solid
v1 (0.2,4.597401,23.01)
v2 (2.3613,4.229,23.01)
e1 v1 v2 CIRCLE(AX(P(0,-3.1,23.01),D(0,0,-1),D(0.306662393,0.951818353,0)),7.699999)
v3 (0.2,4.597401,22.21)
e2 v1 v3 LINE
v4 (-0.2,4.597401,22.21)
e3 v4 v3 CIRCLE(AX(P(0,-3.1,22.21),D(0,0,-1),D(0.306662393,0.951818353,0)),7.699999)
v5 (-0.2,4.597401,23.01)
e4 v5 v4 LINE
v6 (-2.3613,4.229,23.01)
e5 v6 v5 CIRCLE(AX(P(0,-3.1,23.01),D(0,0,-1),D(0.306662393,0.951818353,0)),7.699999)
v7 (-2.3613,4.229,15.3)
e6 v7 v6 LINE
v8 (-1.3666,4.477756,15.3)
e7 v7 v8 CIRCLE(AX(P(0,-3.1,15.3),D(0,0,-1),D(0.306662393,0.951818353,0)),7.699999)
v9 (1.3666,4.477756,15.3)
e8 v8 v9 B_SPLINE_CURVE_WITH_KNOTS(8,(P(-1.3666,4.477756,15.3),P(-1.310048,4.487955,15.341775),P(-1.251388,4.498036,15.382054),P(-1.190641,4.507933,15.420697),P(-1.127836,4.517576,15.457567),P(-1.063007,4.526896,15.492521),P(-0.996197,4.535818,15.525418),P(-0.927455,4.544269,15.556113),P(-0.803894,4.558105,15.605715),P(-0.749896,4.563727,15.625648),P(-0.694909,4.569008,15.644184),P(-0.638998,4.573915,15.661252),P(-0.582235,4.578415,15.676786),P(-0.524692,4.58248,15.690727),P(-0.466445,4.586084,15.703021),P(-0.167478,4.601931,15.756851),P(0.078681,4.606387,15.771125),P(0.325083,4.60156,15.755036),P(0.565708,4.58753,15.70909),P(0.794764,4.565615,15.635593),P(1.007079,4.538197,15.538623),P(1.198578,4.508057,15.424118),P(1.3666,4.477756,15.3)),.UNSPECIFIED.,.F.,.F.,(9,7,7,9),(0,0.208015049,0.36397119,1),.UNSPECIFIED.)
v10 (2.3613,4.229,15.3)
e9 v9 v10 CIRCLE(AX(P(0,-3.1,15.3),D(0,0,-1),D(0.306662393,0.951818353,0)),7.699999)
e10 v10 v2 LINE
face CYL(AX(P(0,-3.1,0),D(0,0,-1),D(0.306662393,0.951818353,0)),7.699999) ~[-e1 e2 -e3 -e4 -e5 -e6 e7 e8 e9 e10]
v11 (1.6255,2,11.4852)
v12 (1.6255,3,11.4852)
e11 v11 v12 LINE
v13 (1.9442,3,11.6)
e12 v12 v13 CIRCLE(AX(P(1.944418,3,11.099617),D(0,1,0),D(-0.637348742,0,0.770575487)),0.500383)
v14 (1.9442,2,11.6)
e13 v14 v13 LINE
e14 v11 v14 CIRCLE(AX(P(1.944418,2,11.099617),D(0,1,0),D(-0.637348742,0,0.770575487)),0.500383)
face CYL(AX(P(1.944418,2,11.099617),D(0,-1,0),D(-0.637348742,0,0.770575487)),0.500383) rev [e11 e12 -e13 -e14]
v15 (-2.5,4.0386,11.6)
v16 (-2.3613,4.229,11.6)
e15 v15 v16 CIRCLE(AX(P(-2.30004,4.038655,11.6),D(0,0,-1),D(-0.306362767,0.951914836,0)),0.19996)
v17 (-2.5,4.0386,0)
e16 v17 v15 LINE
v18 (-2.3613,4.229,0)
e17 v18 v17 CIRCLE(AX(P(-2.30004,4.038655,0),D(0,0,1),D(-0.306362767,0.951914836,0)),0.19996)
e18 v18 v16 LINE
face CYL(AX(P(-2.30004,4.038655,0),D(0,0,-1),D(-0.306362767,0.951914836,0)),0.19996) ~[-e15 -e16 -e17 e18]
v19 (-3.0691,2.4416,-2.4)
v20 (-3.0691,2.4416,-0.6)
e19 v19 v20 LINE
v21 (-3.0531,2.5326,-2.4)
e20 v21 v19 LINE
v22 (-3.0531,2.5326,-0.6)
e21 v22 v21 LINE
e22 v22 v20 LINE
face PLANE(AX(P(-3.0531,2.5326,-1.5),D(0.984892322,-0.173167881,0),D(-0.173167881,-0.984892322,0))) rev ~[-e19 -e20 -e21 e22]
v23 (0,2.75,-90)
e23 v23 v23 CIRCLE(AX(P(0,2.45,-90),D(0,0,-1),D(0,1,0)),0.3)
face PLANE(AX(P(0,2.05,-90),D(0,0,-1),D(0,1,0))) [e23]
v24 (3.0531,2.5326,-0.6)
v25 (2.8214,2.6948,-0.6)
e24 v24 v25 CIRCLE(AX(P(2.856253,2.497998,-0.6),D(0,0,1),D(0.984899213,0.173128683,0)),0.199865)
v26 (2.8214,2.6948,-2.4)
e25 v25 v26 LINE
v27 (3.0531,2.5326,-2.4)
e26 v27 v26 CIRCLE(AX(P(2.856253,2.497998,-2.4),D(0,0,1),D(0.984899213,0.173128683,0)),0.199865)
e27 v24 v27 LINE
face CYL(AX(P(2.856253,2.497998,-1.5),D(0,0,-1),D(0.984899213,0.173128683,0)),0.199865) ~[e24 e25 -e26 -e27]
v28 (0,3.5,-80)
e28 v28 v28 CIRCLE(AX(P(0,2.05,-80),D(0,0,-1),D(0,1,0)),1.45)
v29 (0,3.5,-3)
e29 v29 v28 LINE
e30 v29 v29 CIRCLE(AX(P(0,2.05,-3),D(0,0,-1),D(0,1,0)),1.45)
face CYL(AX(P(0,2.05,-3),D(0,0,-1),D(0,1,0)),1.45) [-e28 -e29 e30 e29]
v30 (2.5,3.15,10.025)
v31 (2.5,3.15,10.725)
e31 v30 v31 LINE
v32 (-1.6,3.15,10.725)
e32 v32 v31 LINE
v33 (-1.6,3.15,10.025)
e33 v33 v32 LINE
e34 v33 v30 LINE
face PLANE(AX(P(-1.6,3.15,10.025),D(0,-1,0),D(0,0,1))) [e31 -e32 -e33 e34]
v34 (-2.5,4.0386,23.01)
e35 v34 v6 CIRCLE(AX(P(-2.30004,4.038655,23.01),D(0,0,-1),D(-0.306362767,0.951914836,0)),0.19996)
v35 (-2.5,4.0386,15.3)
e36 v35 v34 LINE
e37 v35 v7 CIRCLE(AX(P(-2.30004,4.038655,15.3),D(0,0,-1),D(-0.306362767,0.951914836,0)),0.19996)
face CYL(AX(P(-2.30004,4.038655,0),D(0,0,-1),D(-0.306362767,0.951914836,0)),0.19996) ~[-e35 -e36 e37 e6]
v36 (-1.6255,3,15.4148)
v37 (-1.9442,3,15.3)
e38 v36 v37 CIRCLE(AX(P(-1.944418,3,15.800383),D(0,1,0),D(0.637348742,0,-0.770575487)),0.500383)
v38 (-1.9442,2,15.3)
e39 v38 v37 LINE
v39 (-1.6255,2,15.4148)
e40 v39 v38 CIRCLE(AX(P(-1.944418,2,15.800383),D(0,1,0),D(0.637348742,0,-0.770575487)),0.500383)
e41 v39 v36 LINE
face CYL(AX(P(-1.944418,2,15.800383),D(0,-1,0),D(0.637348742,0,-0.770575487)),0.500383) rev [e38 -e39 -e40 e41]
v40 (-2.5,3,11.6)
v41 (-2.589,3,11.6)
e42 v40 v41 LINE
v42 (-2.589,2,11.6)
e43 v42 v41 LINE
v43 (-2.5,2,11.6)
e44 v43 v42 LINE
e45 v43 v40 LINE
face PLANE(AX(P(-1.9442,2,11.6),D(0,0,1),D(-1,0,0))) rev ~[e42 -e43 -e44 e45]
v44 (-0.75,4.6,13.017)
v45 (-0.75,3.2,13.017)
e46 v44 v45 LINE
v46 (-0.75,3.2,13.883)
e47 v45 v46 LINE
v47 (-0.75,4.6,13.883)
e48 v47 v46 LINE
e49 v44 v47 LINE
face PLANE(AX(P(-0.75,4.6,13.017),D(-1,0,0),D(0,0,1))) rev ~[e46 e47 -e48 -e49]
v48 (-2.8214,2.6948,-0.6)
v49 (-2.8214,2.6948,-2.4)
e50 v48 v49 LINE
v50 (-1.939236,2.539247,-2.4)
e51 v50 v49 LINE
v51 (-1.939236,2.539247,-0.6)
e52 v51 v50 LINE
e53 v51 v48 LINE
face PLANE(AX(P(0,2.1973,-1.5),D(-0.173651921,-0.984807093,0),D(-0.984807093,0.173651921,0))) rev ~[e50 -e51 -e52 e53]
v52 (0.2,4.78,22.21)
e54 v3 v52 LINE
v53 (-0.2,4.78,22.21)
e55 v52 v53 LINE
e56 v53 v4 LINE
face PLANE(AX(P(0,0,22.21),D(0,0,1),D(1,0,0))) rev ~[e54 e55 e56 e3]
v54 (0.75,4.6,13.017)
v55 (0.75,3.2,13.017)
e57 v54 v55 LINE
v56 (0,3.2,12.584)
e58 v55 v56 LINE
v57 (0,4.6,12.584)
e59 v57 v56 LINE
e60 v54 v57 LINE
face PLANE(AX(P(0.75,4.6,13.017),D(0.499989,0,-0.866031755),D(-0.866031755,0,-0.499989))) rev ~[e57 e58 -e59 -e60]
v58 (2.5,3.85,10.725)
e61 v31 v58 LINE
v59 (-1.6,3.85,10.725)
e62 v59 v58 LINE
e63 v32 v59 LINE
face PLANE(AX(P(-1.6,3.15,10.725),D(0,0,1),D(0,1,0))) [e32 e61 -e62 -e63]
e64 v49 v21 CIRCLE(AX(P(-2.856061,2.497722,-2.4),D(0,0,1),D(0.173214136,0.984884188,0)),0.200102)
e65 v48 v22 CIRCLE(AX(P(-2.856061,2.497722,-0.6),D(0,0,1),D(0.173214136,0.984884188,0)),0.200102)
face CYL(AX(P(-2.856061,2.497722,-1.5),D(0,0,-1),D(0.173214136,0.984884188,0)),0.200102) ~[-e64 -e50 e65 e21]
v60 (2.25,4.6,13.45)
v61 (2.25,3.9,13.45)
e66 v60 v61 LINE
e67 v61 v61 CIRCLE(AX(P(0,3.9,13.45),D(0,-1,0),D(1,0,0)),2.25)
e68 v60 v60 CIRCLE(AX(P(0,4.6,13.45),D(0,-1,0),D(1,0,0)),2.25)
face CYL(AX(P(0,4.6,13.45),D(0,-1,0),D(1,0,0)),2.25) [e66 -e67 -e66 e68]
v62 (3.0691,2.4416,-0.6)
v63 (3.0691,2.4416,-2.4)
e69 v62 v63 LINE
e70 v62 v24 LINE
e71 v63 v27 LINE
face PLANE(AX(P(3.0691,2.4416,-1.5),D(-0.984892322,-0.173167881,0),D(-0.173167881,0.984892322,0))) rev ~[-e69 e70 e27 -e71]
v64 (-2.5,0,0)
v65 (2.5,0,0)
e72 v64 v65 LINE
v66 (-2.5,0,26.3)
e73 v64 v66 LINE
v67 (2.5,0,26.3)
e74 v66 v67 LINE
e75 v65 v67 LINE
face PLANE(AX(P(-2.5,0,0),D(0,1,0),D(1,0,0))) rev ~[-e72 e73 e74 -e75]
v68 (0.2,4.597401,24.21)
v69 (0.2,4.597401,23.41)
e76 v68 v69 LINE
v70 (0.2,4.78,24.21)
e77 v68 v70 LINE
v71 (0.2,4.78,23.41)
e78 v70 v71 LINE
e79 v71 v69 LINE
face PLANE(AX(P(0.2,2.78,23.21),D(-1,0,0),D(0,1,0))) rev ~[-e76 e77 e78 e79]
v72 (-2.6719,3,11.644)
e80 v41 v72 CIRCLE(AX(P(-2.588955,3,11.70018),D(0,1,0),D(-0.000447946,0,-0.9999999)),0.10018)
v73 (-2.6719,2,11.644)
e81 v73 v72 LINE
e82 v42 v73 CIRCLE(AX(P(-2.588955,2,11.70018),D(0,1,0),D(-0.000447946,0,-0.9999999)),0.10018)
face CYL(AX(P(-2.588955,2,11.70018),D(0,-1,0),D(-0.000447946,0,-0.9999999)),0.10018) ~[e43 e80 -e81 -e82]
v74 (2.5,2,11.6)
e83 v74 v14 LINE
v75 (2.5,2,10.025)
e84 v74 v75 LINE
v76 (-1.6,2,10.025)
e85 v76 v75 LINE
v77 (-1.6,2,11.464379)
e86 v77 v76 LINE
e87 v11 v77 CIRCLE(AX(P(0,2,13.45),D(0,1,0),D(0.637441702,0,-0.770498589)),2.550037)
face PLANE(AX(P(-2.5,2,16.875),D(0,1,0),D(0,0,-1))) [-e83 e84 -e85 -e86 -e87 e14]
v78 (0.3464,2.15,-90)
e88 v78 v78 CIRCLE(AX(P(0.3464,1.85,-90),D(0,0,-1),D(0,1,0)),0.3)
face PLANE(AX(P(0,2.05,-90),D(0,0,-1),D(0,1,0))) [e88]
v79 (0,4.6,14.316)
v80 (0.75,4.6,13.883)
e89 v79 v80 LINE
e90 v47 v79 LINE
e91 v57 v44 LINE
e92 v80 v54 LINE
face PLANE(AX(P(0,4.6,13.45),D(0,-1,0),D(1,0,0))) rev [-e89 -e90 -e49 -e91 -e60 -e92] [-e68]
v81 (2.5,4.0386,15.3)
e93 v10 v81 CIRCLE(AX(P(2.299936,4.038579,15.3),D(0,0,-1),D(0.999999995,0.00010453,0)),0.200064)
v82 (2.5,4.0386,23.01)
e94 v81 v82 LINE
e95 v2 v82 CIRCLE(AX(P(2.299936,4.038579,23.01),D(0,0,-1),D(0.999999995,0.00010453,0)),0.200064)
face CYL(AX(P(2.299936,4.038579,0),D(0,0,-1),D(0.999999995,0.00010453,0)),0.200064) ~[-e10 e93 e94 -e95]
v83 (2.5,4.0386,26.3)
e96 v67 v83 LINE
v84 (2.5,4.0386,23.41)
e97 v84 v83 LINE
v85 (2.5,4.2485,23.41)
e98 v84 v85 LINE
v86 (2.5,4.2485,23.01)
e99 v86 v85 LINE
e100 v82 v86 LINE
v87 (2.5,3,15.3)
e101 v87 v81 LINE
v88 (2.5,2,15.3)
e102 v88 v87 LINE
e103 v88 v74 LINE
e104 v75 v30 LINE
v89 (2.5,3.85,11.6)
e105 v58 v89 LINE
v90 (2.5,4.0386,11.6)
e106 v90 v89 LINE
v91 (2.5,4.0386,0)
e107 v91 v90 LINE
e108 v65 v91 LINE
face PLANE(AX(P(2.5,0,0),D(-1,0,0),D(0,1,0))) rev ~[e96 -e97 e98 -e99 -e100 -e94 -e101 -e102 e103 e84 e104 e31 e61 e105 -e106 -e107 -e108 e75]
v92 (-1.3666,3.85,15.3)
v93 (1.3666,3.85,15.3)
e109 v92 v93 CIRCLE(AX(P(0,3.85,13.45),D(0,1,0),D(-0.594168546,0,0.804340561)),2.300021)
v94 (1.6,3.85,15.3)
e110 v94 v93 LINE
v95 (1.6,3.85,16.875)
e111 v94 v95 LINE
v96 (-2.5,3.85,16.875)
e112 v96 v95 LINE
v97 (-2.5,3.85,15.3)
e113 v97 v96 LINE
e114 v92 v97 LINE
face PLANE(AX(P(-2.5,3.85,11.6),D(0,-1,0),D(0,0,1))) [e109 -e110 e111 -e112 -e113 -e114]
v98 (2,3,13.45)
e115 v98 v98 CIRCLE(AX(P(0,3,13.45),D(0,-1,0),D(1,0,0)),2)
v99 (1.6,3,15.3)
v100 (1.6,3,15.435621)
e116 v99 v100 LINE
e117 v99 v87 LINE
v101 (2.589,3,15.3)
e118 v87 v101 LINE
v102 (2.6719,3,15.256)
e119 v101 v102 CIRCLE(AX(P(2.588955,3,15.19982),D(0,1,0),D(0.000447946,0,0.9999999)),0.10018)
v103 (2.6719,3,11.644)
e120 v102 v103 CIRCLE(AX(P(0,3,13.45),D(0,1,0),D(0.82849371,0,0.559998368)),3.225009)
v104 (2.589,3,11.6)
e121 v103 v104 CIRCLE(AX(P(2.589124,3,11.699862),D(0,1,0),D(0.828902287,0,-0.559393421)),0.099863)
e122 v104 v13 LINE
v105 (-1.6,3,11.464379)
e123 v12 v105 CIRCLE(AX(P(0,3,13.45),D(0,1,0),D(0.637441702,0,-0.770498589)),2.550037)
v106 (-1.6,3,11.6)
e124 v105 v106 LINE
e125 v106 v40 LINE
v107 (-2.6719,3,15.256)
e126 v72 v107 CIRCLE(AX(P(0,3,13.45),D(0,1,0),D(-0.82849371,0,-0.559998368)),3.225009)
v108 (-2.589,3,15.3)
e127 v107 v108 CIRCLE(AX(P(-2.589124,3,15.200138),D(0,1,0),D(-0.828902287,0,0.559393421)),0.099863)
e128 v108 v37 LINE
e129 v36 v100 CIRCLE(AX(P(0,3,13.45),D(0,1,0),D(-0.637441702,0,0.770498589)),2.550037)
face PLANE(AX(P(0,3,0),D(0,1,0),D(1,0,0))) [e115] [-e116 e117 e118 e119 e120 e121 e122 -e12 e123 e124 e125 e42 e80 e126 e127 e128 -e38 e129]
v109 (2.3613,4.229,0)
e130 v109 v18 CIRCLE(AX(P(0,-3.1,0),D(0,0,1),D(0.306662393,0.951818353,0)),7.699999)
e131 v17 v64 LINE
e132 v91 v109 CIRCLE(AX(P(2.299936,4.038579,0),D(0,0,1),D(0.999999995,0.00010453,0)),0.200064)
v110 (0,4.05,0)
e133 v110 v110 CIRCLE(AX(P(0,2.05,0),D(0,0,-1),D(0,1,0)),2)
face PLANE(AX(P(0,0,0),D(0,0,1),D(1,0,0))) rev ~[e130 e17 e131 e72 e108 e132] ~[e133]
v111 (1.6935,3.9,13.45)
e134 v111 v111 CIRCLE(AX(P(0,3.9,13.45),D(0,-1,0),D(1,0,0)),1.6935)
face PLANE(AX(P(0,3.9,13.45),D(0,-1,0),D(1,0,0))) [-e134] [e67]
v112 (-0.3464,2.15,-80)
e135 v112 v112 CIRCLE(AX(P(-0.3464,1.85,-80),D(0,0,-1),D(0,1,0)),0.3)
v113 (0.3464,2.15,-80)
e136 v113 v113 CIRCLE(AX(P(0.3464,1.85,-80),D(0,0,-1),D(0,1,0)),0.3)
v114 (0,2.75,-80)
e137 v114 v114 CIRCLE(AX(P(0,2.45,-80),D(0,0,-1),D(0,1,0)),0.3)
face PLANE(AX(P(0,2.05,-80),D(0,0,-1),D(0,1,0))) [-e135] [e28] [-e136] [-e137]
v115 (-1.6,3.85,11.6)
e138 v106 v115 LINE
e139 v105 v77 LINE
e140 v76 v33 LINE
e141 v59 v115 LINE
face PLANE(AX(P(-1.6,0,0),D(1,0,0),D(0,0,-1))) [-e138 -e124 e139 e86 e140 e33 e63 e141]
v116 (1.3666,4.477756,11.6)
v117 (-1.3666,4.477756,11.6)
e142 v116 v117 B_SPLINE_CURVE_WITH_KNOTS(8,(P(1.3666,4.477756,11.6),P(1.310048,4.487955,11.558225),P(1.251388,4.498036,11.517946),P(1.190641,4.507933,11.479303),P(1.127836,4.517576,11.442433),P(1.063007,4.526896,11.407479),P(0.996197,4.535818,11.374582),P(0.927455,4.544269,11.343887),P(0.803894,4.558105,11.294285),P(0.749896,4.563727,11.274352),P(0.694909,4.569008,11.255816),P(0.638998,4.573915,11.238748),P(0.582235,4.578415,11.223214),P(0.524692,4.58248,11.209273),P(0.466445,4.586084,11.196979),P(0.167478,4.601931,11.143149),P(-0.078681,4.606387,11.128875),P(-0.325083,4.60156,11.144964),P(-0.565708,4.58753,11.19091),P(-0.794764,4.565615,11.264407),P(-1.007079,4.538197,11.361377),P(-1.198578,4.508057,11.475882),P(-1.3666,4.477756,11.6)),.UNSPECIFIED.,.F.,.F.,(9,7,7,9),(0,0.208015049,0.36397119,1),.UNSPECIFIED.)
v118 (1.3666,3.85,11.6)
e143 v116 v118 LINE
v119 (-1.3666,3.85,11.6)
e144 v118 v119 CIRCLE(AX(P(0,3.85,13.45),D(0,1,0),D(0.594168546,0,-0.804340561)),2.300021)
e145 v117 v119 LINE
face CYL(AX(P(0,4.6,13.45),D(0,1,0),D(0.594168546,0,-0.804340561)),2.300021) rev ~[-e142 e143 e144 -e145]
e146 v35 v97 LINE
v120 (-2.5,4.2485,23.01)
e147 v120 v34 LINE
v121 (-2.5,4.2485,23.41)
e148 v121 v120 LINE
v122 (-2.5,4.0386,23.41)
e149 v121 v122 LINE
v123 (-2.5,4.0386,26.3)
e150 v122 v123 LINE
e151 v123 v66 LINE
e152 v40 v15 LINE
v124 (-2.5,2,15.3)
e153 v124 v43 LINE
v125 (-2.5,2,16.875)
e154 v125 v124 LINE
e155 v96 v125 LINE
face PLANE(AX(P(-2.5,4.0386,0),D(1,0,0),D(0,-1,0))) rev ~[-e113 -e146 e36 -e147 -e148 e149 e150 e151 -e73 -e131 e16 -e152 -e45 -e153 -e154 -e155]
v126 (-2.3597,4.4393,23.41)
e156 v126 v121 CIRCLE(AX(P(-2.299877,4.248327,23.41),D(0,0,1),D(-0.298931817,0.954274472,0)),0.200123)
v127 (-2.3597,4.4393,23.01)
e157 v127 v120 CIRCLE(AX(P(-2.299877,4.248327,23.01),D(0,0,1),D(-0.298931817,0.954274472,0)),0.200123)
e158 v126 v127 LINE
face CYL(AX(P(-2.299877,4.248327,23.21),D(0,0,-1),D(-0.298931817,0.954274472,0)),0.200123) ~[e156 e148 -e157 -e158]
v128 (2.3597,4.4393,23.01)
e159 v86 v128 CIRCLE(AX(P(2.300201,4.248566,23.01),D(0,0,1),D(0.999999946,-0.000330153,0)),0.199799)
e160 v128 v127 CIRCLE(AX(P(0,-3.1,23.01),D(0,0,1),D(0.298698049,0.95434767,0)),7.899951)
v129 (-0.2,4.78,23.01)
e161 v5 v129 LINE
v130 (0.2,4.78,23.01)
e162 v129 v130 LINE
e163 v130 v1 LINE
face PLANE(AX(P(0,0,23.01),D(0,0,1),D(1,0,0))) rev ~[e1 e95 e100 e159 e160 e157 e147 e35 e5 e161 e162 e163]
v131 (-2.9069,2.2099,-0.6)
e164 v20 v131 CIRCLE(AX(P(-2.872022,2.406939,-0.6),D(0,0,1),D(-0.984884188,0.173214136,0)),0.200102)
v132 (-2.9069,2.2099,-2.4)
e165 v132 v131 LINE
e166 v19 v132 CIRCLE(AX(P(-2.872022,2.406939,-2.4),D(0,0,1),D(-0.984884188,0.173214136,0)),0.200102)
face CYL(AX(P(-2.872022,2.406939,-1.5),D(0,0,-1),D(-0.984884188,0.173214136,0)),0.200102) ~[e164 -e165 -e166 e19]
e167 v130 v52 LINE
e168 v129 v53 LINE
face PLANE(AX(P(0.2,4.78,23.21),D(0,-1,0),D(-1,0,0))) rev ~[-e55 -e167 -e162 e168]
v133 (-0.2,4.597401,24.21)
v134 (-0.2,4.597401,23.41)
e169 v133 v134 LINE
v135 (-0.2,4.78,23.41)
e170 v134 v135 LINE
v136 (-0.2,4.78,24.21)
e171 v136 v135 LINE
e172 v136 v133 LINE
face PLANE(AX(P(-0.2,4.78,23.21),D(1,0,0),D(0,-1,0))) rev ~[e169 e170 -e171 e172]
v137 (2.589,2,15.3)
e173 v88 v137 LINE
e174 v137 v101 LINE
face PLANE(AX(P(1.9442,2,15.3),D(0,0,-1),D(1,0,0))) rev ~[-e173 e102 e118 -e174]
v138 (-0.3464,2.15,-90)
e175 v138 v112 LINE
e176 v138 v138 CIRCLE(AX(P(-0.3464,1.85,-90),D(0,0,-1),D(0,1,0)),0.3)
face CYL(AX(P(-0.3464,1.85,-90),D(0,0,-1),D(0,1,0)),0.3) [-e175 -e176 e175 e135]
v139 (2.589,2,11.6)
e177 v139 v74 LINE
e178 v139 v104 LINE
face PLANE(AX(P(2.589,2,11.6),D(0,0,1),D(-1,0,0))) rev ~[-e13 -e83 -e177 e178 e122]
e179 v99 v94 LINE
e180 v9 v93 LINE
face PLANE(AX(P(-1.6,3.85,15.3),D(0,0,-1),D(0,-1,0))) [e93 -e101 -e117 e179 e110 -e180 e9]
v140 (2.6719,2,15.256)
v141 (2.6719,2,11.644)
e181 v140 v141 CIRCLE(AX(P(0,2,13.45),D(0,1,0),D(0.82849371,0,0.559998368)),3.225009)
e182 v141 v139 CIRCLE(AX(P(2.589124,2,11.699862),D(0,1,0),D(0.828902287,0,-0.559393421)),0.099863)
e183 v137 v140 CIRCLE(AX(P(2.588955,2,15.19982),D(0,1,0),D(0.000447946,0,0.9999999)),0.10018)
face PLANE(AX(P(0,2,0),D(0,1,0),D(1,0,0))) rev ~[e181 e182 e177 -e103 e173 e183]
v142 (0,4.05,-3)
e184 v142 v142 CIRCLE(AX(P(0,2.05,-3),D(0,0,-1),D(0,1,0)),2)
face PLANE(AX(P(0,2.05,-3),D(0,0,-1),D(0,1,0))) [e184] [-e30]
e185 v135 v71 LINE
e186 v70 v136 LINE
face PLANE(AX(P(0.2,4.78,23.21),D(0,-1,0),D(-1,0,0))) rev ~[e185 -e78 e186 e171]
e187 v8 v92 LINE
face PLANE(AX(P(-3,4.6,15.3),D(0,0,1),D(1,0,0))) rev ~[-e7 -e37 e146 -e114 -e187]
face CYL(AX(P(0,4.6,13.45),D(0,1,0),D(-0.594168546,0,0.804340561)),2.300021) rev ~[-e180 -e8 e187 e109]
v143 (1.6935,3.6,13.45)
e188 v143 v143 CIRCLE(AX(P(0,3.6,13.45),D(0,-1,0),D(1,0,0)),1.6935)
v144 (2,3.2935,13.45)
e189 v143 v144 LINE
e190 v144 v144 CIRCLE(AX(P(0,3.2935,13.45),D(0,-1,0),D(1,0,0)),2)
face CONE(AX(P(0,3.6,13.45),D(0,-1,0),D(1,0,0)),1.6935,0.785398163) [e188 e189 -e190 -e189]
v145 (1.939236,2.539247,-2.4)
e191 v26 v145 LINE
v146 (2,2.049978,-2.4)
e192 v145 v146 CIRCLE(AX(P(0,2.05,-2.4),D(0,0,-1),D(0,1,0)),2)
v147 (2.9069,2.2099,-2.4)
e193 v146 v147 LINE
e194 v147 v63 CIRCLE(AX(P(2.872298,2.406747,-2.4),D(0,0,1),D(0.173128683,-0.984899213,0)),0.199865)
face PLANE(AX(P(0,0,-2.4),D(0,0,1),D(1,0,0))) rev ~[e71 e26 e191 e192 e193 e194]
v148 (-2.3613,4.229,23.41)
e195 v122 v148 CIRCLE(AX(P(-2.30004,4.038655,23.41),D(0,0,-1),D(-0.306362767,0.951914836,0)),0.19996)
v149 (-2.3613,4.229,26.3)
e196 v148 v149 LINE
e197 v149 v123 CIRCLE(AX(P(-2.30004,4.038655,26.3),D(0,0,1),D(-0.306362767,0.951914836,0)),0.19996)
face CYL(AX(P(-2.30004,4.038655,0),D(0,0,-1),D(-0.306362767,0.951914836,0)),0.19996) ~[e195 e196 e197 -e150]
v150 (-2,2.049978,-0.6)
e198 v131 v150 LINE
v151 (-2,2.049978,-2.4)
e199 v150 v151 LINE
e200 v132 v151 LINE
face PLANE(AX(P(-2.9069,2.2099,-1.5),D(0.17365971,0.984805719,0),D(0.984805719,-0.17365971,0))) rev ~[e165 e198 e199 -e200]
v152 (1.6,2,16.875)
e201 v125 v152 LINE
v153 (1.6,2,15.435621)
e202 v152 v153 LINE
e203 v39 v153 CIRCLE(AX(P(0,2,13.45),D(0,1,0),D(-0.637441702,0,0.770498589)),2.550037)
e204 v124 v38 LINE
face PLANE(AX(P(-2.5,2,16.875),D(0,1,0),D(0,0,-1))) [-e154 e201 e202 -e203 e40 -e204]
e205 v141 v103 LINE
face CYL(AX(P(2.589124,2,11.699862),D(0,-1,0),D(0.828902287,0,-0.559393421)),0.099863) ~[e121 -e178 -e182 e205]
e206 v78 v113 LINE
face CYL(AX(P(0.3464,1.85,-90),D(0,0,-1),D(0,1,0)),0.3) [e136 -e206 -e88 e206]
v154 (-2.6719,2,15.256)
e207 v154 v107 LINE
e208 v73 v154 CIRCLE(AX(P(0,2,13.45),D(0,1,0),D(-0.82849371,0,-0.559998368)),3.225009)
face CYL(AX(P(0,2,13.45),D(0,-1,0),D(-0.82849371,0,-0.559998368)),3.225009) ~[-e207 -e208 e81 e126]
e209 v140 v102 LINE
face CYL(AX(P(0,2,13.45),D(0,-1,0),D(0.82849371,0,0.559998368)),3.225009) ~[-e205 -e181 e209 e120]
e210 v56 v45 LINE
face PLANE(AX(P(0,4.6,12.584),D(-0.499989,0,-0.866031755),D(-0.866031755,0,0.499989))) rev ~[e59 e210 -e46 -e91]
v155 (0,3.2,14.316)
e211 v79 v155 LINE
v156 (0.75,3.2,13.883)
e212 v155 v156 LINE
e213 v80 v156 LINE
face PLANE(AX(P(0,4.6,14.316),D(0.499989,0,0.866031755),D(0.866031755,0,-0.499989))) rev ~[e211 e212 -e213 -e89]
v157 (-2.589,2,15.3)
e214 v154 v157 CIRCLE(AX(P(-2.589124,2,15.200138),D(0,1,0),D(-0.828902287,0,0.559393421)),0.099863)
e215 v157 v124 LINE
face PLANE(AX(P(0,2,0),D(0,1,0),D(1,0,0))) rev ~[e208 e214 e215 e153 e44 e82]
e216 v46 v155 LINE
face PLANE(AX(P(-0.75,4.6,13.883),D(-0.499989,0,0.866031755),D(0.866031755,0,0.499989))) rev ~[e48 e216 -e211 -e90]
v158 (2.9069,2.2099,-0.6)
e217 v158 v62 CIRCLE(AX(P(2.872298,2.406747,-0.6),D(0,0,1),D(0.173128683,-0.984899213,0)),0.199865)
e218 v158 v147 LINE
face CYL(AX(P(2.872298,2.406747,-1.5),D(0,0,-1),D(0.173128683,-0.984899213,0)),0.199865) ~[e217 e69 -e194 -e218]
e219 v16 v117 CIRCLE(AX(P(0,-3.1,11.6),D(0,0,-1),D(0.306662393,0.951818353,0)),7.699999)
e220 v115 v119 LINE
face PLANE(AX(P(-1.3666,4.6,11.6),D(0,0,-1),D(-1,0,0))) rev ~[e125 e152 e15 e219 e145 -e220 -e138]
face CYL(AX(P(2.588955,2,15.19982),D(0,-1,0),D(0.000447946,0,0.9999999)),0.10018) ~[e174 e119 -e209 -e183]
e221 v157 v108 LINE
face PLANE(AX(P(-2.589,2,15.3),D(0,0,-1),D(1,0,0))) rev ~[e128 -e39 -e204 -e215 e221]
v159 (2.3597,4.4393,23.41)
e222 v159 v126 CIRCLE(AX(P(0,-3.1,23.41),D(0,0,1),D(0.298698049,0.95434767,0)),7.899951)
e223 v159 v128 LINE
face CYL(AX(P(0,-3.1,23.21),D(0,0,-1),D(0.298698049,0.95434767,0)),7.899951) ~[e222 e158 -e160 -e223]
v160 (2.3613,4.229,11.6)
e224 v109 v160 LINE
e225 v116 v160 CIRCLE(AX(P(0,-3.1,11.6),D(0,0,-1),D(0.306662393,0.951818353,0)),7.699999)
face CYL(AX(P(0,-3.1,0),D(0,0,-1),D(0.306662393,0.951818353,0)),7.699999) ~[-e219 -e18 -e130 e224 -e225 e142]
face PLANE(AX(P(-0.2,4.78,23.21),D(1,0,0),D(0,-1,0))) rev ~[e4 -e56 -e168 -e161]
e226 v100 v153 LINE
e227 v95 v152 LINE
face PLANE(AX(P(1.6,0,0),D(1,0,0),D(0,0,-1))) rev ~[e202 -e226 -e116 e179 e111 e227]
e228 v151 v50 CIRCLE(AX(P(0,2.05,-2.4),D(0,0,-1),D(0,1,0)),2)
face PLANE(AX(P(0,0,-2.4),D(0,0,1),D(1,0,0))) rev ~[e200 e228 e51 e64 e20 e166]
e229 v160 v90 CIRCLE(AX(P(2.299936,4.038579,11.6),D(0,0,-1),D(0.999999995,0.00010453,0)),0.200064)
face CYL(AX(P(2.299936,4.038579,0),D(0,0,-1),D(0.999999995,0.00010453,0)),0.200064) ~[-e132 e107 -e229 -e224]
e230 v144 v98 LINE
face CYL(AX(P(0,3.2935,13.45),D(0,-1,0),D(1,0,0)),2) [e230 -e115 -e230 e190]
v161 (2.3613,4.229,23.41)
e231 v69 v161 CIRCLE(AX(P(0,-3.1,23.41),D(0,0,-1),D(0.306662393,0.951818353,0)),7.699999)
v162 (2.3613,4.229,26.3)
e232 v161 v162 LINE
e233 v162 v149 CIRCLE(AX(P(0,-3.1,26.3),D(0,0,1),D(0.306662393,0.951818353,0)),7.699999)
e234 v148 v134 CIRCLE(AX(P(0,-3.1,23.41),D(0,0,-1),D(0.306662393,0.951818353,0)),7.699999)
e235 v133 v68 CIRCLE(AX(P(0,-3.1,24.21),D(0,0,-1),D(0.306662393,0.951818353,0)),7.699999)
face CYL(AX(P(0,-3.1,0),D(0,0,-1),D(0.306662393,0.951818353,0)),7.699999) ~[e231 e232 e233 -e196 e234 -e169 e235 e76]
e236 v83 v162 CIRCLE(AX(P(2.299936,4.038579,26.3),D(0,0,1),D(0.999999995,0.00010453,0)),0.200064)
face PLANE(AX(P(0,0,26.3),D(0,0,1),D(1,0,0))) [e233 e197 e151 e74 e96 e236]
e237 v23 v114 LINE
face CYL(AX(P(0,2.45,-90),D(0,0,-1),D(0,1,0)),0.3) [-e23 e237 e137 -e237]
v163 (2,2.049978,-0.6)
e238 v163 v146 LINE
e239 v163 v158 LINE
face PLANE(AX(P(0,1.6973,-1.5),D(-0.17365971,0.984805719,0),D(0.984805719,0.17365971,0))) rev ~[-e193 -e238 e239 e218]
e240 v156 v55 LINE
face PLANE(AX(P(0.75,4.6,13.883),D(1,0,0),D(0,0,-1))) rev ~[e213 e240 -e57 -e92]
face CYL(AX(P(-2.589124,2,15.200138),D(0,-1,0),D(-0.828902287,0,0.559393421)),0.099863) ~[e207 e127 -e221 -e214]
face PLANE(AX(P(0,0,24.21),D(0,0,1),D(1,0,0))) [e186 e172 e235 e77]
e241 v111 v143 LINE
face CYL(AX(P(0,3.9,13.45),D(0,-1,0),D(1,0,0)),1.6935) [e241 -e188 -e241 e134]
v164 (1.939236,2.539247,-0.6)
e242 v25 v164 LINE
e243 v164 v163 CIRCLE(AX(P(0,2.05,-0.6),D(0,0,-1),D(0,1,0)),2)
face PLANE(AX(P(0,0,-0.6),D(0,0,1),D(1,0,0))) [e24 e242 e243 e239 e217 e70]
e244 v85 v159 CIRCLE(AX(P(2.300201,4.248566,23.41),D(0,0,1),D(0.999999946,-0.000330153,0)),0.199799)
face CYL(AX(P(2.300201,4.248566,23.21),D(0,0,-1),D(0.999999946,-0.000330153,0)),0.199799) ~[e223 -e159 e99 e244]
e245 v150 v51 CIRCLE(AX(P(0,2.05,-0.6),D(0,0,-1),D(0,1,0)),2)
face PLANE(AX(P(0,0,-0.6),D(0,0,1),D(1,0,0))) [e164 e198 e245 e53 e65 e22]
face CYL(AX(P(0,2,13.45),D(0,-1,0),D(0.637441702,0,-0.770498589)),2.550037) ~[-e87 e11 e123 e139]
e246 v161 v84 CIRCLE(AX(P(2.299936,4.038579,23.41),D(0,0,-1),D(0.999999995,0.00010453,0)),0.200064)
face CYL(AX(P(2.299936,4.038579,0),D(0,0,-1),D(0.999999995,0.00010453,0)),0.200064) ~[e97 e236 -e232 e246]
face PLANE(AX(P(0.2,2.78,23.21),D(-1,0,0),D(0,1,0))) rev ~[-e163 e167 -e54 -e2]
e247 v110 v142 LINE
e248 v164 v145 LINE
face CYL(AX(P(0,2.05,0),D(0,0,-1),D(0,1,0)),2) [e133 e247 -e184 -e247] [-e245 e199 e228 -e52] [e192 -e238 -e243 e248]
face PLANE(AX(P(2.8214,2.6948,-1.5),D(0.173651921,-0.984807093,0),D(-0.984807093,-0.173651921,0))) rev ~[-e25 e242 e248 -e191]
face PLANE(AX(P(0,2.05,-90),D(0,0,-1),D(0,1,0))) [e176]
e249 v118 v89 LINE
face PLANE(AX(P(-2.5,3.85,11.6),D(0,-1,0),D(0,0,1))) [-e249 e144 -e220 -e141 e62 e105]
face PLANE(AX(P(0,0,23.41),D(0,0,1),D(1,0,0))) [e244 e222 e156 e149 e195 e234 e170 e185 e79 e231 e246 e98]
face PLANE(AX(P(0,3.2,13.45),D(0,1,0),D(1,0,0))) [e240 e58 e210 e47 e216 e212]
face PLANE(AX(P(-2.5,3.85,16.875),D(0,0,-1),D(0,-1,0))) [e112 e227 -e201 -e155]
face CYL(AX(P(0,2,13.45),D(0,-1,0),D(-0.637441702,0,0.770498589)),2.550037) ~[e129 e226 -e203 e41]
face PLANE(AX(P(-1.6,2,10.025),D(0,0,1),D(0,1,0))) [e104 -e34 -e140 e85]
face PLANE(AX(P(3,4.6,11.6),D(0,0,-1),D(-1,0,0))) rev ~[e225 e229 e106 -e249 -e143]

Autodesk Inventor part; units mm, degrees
sketch "Sketch_1" plane through (0, 0, 0) normal (0, 0, 1) x (1, 0, 0)
  line L0 (-2.5, 4.0386) -> (-2.5, 0)
  line L1 (-2.5, 0) -> (2.5, 0)
  line L2 (2.5, 0) -> (2.5, 4.0386)
  arc A0 (2.5, 4.0386) -> (2.3613, 4.229) centre (2.3, 4.0386) ccw
  arc A1 (2.3613, 4.229) -> (-2.3613, 4.229) centre (0, -3.1) ccw
  arc A2 (-2.3613, 4.229) -> (-2.5, 4.0386) centre (-2.3, 4.0386) ccw
extrude "Extrusion1" add sketch "Sketch_1" along normal blind 26.3
sketch "Sketch_2" plane through (-1.6, 0, 0) normal (1, 0, 0) x (0, 0, -1)
  line L0 (-15.3, 3.85) -> (-15.3, 2)
  line L1 (-15.3, 2) -> (-10.025, 2)
  line L2 (-10.025, 2) -> (-10.025, 3.15)
  line L3 (-10.025, 3.15) -> (-10.725, 3.15)
  line L4 (-10.725, 3.15) -> (-10.725, 3.85)
  line L5 (-10.725, 3.85) -> (-15.3, 3.85)
extrude "Extrusion2" cut sketch "Sketch_2" along normal blind 4.1
sketch "Sketch_3" plane through (-2.5, 0, 0) normal (1, 0, 0) x (0, 0, -1)
  line L0 (-16.875, 3.85) -> (-16.875, 2)
  line L1 (-16.875, 2) -> (-11.6, 2)
  line L2 (-11.6, 2) -> (-11.6, 3.85)
  line L3 (-11.6, 3.85) -> (-16.875, 3.85)
extrude "Extrusion3" cut sketch "Sketch_3" along normal blind 4.1
sketch "Sketch_4" plane through (0, 4.6, 0) normal (0, 1, 0) x (1, 0, 0)
  line L0 (-3, -15.3) -> (-1.3666, -15.3)
  arc A0 (-1.3666, -15.3) -> (1.3666, -15.3) centre (0, -13.45) ccw
  line L1 (1.3666, -15.3) -> (3, -15.3)
  line L2 (3, -15.3) -> (3, -11.6)
  line L3 (3, -11.6) -> (1.3666, -11.6)
  arc A1 (1.3666, -11.6) -> (-1.3666, -11.6) centre (0, -13.45) ccw
  line L4 (-1.3666, -11.6) -> (-3, -11.6)
  line L5 (-3, -11.6) -> (-3, -15.3)
extrude "Extrusion4" cut sketch "Sketch_4" against normal blind 2.5
sketch "Sketch_5" plane through (0, 2, 0) normal (0, 1, 0) x (1, 0, 0)
  arc A0 (-2.6719, -11.644) -> (-2.6719, -15.256) centre (0, -13.45) ccw
  arc A1 (-2.6719, -15.256) -> (-2.589, -15.3) centre (-2.589, -15.2) ccw
  line L0 (-2.589, -15.3) -> (-1.9442, -15.3)
  arc A2 (-1.6255, -15.4148) -> (-1.9442, -15.3) centre (-1.9442, -15.8) ccw
  arc A3 (-1.6255, -15.4148) -> (1.6255, -15.4148) centre (0, -13.45) ccw
  arc A4 (1.9442, -15.3) -> (1.6255, -15.4148) centre (1.9442, -15.8) ccw
  line L1 (1.9442, -15.3) -> (2.589, -15.3)
  arc A5 (2.589, -15.3) -> (2.6719, -15.256) centre (2.589, -15.2) ccw
  arc A6 (2.6719, -15.256) -> (2.6719, -11.644) centre (0, -13.45) ccw
  arc A7 (2.6719, -11.644) -> (2.589, -11.6) centre (2.589, -11.7) ccw
  line L2 (2.589, -11.6) -> (1.9442, -11.6)
  arc A8 (1.6255, -11.4852) -> (1.9442, -11.6) centre (1.9442, -11.1) ccw
  arc A9 (1.6255, -11.4852) -> (-1.6255, -11.4852) centre (0, -13.45) ccw
  arc A10 (-1.9442, -11.6) -> (-1.6255, -11.4852) centre (-1.9442, -11.1) ccw
  line L3 (-1.9442, -11.6) -> (-2.589, -11.6)
  arc A11 (-2.589, -11.6) -> (-2.6719, -11.644) centre (-2.589, -11.7) ccw
extrude "Extrusion5" add sketch "Sketch_5" along normal blind 1
sketch "Sketch_6" plane through (0, 0, 13.45) normal (0, 0, 1) x (1, 0, 0)
  line L0 (0, 2) -> (0, 4.6)
  line L1 (0, 4.6) -> (2.25, 4.6)
  line L2 (2.25, 4.6) -> (2.25, 3.9)
  line L3 (2.25, 3.9) -> (1.6935, 3.9)
  line L4 (1.6935, 3.9) -> (1.6935, 3.6)
  line L5 (1.6935, 3.6) -> (2, 3.2935)
  line L6 (2, 3.2935) -> (2, 2.3065)
  line L7 (2, 2.3065) -> (1.6935, 2)
  line L8 (1.6935, 2) -> (0, 2)
  line L9 (0, 2) -> (0, 4.6)
revolve "Revolution1" add sketch "Sketch_6" angle 360 about axis through (0, 2, 13.45) along (0, -1, 0)
thread "Thread1" size "M4x0.5" class "6g" standard "ISO Metric profile" length 0.987
sketch "Sketch_7" plane through (0, 4.6, 13.45) normal (0, 1, 0) x (1, 0, 0)
  line L0 (-0.75, -0.433) -> (0, -0.866)
  line L1 (0, -0.866) -> (0.75, -0.433)
  line L2 (0.75, -0.433) -> (0.75, 0.433)
  line L3 (0.75, 0.433) -> (0, 0.866)
  line L4 (0, 0.866) -> (-0.75, 0.433)
  line L5 (-0.75, 0.433) -> (-0.75, -0.433)
extrude "Extrusion6" cut sketch "Sketch_7" against normal blind 1.4
sketch "Sketch_9" plane through (0, 0, 23.21) normal (0, 0, 1) x (1, 0, 0)
  line L0 (-2.5, 2.8) -> (2.5, 2.8)
  line L1 (2.5, 2.8) -> (2.5, 4.2485)
  arc A0 (2.5, 4.2485) -> (2.3597, 4.4393) centre (2.3, 4.2485) ccw
  arc A1 (2.3597, 4.4393) -> (-2.3597, 4.4393) centre (0, -3.1) ccw
  arc A2 (-2.3597, 4.4393) -> (-2.5, 4.2485) centre (-2.3, 4.2485) ccw
  line L2 (-2.5, 4.2485) -> (-2.5, 2.8)
extrude "Extrusion7" add sketch "Sketch_9" along normal mid plane 0.4
sketch "Sketch_10" plane through (0, 0, 23.21) normal (0, 0, 1) x (1, 0, 0)
  line L0 (-0.2, 2.78) -> (0.2, 2.78)
  line L1 (0.2, 2.78) -> (0.2, 4.78)
  line L2 (0.2, 4.78) -> (-0.2, 4.78)
  line L3 (-0.2, 4.78) -> (-0.2, 2.78)
extrude "Extrusion8" add sketch "Sketch_10" along normal mid plane 2
sketch "Sketch_11" plane through (0, 0, 0) normal (1, 0, 0) x (0, 1, 0)
  line L0 (2.05, -90) -> (2.05, 0)
  line L1 (2.05, 0) -> (4.05, 0)
  line L2 (4.05, 0) -> (4.05, -3)
  line L3 (4.05, -3) -> (3.5, -3)
  line L4 (3.5, -3) -> (3.5, -90)
  line L5 (3.5, -90) -> (2.05, -90)
  line L6 (2.05, -90) -> (2.05, 0)
revolve "Revolution2" add sketch "Sketch_11" angle 360 about axis through (0, 2.05, -90) along (0, 0, -1)
sketch "Sketch_12" plane through (0, 2.05, -90) normal (0, 0, -1) x (0, 1, 0)
  line L0 (-2, -2) -> (2, -2)
  line L1 (2, -2) -> (2, 2)
  line L2 (2, 2) -> (-2, 2)
  line L3 (-2, 2) -> (-2, -2)
  circle A0 centre (0.4, 0) radius 0.3
  circle A1 centre (-0.2, 0.3464) radius 0.3
  circle A2 centre (-0.2, -0.3464) radius 0.3
extrude "Extrusion9" cut sketch "Sketch_12" against normal blind 10
sketch "Sketch_17" plane through (0, 0, -1.5) normal (0, 0, 1) x (1, 0, 0)
  arc A0 (-3.0691, 2.4416) -> (-2.9069, 2.2099) centre (-2.8722, 2.4069) ccw
  line L0 (-2.9069, 2.2099) -> (0, 1.6973)
  line L1 (0, 1.6973) -> (2.9069, 2.2099)
  arc A1 (2.9069, 2.2099) -> (3.0691, 2.4416) centre (2.8722, 2.4069) ccw
  line L2 (3.0691, 2.4416) -> (3.0531, 2.5326)
  arc A2 (3.0531, 2.5326) -> (2.8214, 2.6948) centre (2.8561, 2.4979) ccw
  line L3 (2.8214, 2.6948) -> (0, 2.1973)
  line L4 (0, 2.1973) -> (-2.8214, 2.6948)
  arc A3 (-2.8214, 2.6948) -> (-3.0531, 2.5326) centre (-2.8561, 2.4979) ccw
  line L5 (-3.0531, 2.5326) -> (-3.0691, 2.4416)
extrude "Extrusion10" add sketch "Sketch_17" along normal mid plane 1.8
ref_plane "ANBAU_XY" through (0, 0, 0) normal (0, 0, -1) x (1, 0, 0)
ref_plane "ANBAU_YZ" through (0, 0, 0) normal (1, 0, 0) x (0, -1, 0)
ref_plane "ANBAU_ZX" through (0, 0, 0) normal (0, -1, 0) x (0, 0, -1)
ref_plane "ASCF1_XY" through (0, 2.05, -10) normal (0, 0, -1) x (1, 0, 0)
ref_plane "ASCF1_YZ" through (0, 2.05, -10) normal (1, 0, 0) x (0, -1, 0)
ref_plane "ASCF1_ZX" through (0, 2.05, -10) normal (0, -1, 0) x (0, 0, -1)
ref_plane "ASCF2_XY" through (0, 2.05, -75) normal (0, 0, 1) x (1, 0, 0)
ref_plane "ASCF2_YZ" through (0, 2.05, -75) normal (1, 0, 0) x (0, 1, 0)
ref_plane "ASCF2_ZX" through (0, 2.05, -75) normal (0, 1, 0) x (0, 0, 1)
ref_plane "FDT_NUT_XY" through (0, 0, 26.3) normal (0, -1, 0) x (1, 0, 0)
ref_plane "FDT_NUT_YZ" through (0, 0, 26.3) normal (1, 0, 0) x (0, 0, 1)
ref_plane "FDT_NUT_ZX" through (0, 0, 26.3) normal (0, 0, 1) x (0, -1, 0)
properties part number "574333 SMT-8M-A-1---OE---(part)"
